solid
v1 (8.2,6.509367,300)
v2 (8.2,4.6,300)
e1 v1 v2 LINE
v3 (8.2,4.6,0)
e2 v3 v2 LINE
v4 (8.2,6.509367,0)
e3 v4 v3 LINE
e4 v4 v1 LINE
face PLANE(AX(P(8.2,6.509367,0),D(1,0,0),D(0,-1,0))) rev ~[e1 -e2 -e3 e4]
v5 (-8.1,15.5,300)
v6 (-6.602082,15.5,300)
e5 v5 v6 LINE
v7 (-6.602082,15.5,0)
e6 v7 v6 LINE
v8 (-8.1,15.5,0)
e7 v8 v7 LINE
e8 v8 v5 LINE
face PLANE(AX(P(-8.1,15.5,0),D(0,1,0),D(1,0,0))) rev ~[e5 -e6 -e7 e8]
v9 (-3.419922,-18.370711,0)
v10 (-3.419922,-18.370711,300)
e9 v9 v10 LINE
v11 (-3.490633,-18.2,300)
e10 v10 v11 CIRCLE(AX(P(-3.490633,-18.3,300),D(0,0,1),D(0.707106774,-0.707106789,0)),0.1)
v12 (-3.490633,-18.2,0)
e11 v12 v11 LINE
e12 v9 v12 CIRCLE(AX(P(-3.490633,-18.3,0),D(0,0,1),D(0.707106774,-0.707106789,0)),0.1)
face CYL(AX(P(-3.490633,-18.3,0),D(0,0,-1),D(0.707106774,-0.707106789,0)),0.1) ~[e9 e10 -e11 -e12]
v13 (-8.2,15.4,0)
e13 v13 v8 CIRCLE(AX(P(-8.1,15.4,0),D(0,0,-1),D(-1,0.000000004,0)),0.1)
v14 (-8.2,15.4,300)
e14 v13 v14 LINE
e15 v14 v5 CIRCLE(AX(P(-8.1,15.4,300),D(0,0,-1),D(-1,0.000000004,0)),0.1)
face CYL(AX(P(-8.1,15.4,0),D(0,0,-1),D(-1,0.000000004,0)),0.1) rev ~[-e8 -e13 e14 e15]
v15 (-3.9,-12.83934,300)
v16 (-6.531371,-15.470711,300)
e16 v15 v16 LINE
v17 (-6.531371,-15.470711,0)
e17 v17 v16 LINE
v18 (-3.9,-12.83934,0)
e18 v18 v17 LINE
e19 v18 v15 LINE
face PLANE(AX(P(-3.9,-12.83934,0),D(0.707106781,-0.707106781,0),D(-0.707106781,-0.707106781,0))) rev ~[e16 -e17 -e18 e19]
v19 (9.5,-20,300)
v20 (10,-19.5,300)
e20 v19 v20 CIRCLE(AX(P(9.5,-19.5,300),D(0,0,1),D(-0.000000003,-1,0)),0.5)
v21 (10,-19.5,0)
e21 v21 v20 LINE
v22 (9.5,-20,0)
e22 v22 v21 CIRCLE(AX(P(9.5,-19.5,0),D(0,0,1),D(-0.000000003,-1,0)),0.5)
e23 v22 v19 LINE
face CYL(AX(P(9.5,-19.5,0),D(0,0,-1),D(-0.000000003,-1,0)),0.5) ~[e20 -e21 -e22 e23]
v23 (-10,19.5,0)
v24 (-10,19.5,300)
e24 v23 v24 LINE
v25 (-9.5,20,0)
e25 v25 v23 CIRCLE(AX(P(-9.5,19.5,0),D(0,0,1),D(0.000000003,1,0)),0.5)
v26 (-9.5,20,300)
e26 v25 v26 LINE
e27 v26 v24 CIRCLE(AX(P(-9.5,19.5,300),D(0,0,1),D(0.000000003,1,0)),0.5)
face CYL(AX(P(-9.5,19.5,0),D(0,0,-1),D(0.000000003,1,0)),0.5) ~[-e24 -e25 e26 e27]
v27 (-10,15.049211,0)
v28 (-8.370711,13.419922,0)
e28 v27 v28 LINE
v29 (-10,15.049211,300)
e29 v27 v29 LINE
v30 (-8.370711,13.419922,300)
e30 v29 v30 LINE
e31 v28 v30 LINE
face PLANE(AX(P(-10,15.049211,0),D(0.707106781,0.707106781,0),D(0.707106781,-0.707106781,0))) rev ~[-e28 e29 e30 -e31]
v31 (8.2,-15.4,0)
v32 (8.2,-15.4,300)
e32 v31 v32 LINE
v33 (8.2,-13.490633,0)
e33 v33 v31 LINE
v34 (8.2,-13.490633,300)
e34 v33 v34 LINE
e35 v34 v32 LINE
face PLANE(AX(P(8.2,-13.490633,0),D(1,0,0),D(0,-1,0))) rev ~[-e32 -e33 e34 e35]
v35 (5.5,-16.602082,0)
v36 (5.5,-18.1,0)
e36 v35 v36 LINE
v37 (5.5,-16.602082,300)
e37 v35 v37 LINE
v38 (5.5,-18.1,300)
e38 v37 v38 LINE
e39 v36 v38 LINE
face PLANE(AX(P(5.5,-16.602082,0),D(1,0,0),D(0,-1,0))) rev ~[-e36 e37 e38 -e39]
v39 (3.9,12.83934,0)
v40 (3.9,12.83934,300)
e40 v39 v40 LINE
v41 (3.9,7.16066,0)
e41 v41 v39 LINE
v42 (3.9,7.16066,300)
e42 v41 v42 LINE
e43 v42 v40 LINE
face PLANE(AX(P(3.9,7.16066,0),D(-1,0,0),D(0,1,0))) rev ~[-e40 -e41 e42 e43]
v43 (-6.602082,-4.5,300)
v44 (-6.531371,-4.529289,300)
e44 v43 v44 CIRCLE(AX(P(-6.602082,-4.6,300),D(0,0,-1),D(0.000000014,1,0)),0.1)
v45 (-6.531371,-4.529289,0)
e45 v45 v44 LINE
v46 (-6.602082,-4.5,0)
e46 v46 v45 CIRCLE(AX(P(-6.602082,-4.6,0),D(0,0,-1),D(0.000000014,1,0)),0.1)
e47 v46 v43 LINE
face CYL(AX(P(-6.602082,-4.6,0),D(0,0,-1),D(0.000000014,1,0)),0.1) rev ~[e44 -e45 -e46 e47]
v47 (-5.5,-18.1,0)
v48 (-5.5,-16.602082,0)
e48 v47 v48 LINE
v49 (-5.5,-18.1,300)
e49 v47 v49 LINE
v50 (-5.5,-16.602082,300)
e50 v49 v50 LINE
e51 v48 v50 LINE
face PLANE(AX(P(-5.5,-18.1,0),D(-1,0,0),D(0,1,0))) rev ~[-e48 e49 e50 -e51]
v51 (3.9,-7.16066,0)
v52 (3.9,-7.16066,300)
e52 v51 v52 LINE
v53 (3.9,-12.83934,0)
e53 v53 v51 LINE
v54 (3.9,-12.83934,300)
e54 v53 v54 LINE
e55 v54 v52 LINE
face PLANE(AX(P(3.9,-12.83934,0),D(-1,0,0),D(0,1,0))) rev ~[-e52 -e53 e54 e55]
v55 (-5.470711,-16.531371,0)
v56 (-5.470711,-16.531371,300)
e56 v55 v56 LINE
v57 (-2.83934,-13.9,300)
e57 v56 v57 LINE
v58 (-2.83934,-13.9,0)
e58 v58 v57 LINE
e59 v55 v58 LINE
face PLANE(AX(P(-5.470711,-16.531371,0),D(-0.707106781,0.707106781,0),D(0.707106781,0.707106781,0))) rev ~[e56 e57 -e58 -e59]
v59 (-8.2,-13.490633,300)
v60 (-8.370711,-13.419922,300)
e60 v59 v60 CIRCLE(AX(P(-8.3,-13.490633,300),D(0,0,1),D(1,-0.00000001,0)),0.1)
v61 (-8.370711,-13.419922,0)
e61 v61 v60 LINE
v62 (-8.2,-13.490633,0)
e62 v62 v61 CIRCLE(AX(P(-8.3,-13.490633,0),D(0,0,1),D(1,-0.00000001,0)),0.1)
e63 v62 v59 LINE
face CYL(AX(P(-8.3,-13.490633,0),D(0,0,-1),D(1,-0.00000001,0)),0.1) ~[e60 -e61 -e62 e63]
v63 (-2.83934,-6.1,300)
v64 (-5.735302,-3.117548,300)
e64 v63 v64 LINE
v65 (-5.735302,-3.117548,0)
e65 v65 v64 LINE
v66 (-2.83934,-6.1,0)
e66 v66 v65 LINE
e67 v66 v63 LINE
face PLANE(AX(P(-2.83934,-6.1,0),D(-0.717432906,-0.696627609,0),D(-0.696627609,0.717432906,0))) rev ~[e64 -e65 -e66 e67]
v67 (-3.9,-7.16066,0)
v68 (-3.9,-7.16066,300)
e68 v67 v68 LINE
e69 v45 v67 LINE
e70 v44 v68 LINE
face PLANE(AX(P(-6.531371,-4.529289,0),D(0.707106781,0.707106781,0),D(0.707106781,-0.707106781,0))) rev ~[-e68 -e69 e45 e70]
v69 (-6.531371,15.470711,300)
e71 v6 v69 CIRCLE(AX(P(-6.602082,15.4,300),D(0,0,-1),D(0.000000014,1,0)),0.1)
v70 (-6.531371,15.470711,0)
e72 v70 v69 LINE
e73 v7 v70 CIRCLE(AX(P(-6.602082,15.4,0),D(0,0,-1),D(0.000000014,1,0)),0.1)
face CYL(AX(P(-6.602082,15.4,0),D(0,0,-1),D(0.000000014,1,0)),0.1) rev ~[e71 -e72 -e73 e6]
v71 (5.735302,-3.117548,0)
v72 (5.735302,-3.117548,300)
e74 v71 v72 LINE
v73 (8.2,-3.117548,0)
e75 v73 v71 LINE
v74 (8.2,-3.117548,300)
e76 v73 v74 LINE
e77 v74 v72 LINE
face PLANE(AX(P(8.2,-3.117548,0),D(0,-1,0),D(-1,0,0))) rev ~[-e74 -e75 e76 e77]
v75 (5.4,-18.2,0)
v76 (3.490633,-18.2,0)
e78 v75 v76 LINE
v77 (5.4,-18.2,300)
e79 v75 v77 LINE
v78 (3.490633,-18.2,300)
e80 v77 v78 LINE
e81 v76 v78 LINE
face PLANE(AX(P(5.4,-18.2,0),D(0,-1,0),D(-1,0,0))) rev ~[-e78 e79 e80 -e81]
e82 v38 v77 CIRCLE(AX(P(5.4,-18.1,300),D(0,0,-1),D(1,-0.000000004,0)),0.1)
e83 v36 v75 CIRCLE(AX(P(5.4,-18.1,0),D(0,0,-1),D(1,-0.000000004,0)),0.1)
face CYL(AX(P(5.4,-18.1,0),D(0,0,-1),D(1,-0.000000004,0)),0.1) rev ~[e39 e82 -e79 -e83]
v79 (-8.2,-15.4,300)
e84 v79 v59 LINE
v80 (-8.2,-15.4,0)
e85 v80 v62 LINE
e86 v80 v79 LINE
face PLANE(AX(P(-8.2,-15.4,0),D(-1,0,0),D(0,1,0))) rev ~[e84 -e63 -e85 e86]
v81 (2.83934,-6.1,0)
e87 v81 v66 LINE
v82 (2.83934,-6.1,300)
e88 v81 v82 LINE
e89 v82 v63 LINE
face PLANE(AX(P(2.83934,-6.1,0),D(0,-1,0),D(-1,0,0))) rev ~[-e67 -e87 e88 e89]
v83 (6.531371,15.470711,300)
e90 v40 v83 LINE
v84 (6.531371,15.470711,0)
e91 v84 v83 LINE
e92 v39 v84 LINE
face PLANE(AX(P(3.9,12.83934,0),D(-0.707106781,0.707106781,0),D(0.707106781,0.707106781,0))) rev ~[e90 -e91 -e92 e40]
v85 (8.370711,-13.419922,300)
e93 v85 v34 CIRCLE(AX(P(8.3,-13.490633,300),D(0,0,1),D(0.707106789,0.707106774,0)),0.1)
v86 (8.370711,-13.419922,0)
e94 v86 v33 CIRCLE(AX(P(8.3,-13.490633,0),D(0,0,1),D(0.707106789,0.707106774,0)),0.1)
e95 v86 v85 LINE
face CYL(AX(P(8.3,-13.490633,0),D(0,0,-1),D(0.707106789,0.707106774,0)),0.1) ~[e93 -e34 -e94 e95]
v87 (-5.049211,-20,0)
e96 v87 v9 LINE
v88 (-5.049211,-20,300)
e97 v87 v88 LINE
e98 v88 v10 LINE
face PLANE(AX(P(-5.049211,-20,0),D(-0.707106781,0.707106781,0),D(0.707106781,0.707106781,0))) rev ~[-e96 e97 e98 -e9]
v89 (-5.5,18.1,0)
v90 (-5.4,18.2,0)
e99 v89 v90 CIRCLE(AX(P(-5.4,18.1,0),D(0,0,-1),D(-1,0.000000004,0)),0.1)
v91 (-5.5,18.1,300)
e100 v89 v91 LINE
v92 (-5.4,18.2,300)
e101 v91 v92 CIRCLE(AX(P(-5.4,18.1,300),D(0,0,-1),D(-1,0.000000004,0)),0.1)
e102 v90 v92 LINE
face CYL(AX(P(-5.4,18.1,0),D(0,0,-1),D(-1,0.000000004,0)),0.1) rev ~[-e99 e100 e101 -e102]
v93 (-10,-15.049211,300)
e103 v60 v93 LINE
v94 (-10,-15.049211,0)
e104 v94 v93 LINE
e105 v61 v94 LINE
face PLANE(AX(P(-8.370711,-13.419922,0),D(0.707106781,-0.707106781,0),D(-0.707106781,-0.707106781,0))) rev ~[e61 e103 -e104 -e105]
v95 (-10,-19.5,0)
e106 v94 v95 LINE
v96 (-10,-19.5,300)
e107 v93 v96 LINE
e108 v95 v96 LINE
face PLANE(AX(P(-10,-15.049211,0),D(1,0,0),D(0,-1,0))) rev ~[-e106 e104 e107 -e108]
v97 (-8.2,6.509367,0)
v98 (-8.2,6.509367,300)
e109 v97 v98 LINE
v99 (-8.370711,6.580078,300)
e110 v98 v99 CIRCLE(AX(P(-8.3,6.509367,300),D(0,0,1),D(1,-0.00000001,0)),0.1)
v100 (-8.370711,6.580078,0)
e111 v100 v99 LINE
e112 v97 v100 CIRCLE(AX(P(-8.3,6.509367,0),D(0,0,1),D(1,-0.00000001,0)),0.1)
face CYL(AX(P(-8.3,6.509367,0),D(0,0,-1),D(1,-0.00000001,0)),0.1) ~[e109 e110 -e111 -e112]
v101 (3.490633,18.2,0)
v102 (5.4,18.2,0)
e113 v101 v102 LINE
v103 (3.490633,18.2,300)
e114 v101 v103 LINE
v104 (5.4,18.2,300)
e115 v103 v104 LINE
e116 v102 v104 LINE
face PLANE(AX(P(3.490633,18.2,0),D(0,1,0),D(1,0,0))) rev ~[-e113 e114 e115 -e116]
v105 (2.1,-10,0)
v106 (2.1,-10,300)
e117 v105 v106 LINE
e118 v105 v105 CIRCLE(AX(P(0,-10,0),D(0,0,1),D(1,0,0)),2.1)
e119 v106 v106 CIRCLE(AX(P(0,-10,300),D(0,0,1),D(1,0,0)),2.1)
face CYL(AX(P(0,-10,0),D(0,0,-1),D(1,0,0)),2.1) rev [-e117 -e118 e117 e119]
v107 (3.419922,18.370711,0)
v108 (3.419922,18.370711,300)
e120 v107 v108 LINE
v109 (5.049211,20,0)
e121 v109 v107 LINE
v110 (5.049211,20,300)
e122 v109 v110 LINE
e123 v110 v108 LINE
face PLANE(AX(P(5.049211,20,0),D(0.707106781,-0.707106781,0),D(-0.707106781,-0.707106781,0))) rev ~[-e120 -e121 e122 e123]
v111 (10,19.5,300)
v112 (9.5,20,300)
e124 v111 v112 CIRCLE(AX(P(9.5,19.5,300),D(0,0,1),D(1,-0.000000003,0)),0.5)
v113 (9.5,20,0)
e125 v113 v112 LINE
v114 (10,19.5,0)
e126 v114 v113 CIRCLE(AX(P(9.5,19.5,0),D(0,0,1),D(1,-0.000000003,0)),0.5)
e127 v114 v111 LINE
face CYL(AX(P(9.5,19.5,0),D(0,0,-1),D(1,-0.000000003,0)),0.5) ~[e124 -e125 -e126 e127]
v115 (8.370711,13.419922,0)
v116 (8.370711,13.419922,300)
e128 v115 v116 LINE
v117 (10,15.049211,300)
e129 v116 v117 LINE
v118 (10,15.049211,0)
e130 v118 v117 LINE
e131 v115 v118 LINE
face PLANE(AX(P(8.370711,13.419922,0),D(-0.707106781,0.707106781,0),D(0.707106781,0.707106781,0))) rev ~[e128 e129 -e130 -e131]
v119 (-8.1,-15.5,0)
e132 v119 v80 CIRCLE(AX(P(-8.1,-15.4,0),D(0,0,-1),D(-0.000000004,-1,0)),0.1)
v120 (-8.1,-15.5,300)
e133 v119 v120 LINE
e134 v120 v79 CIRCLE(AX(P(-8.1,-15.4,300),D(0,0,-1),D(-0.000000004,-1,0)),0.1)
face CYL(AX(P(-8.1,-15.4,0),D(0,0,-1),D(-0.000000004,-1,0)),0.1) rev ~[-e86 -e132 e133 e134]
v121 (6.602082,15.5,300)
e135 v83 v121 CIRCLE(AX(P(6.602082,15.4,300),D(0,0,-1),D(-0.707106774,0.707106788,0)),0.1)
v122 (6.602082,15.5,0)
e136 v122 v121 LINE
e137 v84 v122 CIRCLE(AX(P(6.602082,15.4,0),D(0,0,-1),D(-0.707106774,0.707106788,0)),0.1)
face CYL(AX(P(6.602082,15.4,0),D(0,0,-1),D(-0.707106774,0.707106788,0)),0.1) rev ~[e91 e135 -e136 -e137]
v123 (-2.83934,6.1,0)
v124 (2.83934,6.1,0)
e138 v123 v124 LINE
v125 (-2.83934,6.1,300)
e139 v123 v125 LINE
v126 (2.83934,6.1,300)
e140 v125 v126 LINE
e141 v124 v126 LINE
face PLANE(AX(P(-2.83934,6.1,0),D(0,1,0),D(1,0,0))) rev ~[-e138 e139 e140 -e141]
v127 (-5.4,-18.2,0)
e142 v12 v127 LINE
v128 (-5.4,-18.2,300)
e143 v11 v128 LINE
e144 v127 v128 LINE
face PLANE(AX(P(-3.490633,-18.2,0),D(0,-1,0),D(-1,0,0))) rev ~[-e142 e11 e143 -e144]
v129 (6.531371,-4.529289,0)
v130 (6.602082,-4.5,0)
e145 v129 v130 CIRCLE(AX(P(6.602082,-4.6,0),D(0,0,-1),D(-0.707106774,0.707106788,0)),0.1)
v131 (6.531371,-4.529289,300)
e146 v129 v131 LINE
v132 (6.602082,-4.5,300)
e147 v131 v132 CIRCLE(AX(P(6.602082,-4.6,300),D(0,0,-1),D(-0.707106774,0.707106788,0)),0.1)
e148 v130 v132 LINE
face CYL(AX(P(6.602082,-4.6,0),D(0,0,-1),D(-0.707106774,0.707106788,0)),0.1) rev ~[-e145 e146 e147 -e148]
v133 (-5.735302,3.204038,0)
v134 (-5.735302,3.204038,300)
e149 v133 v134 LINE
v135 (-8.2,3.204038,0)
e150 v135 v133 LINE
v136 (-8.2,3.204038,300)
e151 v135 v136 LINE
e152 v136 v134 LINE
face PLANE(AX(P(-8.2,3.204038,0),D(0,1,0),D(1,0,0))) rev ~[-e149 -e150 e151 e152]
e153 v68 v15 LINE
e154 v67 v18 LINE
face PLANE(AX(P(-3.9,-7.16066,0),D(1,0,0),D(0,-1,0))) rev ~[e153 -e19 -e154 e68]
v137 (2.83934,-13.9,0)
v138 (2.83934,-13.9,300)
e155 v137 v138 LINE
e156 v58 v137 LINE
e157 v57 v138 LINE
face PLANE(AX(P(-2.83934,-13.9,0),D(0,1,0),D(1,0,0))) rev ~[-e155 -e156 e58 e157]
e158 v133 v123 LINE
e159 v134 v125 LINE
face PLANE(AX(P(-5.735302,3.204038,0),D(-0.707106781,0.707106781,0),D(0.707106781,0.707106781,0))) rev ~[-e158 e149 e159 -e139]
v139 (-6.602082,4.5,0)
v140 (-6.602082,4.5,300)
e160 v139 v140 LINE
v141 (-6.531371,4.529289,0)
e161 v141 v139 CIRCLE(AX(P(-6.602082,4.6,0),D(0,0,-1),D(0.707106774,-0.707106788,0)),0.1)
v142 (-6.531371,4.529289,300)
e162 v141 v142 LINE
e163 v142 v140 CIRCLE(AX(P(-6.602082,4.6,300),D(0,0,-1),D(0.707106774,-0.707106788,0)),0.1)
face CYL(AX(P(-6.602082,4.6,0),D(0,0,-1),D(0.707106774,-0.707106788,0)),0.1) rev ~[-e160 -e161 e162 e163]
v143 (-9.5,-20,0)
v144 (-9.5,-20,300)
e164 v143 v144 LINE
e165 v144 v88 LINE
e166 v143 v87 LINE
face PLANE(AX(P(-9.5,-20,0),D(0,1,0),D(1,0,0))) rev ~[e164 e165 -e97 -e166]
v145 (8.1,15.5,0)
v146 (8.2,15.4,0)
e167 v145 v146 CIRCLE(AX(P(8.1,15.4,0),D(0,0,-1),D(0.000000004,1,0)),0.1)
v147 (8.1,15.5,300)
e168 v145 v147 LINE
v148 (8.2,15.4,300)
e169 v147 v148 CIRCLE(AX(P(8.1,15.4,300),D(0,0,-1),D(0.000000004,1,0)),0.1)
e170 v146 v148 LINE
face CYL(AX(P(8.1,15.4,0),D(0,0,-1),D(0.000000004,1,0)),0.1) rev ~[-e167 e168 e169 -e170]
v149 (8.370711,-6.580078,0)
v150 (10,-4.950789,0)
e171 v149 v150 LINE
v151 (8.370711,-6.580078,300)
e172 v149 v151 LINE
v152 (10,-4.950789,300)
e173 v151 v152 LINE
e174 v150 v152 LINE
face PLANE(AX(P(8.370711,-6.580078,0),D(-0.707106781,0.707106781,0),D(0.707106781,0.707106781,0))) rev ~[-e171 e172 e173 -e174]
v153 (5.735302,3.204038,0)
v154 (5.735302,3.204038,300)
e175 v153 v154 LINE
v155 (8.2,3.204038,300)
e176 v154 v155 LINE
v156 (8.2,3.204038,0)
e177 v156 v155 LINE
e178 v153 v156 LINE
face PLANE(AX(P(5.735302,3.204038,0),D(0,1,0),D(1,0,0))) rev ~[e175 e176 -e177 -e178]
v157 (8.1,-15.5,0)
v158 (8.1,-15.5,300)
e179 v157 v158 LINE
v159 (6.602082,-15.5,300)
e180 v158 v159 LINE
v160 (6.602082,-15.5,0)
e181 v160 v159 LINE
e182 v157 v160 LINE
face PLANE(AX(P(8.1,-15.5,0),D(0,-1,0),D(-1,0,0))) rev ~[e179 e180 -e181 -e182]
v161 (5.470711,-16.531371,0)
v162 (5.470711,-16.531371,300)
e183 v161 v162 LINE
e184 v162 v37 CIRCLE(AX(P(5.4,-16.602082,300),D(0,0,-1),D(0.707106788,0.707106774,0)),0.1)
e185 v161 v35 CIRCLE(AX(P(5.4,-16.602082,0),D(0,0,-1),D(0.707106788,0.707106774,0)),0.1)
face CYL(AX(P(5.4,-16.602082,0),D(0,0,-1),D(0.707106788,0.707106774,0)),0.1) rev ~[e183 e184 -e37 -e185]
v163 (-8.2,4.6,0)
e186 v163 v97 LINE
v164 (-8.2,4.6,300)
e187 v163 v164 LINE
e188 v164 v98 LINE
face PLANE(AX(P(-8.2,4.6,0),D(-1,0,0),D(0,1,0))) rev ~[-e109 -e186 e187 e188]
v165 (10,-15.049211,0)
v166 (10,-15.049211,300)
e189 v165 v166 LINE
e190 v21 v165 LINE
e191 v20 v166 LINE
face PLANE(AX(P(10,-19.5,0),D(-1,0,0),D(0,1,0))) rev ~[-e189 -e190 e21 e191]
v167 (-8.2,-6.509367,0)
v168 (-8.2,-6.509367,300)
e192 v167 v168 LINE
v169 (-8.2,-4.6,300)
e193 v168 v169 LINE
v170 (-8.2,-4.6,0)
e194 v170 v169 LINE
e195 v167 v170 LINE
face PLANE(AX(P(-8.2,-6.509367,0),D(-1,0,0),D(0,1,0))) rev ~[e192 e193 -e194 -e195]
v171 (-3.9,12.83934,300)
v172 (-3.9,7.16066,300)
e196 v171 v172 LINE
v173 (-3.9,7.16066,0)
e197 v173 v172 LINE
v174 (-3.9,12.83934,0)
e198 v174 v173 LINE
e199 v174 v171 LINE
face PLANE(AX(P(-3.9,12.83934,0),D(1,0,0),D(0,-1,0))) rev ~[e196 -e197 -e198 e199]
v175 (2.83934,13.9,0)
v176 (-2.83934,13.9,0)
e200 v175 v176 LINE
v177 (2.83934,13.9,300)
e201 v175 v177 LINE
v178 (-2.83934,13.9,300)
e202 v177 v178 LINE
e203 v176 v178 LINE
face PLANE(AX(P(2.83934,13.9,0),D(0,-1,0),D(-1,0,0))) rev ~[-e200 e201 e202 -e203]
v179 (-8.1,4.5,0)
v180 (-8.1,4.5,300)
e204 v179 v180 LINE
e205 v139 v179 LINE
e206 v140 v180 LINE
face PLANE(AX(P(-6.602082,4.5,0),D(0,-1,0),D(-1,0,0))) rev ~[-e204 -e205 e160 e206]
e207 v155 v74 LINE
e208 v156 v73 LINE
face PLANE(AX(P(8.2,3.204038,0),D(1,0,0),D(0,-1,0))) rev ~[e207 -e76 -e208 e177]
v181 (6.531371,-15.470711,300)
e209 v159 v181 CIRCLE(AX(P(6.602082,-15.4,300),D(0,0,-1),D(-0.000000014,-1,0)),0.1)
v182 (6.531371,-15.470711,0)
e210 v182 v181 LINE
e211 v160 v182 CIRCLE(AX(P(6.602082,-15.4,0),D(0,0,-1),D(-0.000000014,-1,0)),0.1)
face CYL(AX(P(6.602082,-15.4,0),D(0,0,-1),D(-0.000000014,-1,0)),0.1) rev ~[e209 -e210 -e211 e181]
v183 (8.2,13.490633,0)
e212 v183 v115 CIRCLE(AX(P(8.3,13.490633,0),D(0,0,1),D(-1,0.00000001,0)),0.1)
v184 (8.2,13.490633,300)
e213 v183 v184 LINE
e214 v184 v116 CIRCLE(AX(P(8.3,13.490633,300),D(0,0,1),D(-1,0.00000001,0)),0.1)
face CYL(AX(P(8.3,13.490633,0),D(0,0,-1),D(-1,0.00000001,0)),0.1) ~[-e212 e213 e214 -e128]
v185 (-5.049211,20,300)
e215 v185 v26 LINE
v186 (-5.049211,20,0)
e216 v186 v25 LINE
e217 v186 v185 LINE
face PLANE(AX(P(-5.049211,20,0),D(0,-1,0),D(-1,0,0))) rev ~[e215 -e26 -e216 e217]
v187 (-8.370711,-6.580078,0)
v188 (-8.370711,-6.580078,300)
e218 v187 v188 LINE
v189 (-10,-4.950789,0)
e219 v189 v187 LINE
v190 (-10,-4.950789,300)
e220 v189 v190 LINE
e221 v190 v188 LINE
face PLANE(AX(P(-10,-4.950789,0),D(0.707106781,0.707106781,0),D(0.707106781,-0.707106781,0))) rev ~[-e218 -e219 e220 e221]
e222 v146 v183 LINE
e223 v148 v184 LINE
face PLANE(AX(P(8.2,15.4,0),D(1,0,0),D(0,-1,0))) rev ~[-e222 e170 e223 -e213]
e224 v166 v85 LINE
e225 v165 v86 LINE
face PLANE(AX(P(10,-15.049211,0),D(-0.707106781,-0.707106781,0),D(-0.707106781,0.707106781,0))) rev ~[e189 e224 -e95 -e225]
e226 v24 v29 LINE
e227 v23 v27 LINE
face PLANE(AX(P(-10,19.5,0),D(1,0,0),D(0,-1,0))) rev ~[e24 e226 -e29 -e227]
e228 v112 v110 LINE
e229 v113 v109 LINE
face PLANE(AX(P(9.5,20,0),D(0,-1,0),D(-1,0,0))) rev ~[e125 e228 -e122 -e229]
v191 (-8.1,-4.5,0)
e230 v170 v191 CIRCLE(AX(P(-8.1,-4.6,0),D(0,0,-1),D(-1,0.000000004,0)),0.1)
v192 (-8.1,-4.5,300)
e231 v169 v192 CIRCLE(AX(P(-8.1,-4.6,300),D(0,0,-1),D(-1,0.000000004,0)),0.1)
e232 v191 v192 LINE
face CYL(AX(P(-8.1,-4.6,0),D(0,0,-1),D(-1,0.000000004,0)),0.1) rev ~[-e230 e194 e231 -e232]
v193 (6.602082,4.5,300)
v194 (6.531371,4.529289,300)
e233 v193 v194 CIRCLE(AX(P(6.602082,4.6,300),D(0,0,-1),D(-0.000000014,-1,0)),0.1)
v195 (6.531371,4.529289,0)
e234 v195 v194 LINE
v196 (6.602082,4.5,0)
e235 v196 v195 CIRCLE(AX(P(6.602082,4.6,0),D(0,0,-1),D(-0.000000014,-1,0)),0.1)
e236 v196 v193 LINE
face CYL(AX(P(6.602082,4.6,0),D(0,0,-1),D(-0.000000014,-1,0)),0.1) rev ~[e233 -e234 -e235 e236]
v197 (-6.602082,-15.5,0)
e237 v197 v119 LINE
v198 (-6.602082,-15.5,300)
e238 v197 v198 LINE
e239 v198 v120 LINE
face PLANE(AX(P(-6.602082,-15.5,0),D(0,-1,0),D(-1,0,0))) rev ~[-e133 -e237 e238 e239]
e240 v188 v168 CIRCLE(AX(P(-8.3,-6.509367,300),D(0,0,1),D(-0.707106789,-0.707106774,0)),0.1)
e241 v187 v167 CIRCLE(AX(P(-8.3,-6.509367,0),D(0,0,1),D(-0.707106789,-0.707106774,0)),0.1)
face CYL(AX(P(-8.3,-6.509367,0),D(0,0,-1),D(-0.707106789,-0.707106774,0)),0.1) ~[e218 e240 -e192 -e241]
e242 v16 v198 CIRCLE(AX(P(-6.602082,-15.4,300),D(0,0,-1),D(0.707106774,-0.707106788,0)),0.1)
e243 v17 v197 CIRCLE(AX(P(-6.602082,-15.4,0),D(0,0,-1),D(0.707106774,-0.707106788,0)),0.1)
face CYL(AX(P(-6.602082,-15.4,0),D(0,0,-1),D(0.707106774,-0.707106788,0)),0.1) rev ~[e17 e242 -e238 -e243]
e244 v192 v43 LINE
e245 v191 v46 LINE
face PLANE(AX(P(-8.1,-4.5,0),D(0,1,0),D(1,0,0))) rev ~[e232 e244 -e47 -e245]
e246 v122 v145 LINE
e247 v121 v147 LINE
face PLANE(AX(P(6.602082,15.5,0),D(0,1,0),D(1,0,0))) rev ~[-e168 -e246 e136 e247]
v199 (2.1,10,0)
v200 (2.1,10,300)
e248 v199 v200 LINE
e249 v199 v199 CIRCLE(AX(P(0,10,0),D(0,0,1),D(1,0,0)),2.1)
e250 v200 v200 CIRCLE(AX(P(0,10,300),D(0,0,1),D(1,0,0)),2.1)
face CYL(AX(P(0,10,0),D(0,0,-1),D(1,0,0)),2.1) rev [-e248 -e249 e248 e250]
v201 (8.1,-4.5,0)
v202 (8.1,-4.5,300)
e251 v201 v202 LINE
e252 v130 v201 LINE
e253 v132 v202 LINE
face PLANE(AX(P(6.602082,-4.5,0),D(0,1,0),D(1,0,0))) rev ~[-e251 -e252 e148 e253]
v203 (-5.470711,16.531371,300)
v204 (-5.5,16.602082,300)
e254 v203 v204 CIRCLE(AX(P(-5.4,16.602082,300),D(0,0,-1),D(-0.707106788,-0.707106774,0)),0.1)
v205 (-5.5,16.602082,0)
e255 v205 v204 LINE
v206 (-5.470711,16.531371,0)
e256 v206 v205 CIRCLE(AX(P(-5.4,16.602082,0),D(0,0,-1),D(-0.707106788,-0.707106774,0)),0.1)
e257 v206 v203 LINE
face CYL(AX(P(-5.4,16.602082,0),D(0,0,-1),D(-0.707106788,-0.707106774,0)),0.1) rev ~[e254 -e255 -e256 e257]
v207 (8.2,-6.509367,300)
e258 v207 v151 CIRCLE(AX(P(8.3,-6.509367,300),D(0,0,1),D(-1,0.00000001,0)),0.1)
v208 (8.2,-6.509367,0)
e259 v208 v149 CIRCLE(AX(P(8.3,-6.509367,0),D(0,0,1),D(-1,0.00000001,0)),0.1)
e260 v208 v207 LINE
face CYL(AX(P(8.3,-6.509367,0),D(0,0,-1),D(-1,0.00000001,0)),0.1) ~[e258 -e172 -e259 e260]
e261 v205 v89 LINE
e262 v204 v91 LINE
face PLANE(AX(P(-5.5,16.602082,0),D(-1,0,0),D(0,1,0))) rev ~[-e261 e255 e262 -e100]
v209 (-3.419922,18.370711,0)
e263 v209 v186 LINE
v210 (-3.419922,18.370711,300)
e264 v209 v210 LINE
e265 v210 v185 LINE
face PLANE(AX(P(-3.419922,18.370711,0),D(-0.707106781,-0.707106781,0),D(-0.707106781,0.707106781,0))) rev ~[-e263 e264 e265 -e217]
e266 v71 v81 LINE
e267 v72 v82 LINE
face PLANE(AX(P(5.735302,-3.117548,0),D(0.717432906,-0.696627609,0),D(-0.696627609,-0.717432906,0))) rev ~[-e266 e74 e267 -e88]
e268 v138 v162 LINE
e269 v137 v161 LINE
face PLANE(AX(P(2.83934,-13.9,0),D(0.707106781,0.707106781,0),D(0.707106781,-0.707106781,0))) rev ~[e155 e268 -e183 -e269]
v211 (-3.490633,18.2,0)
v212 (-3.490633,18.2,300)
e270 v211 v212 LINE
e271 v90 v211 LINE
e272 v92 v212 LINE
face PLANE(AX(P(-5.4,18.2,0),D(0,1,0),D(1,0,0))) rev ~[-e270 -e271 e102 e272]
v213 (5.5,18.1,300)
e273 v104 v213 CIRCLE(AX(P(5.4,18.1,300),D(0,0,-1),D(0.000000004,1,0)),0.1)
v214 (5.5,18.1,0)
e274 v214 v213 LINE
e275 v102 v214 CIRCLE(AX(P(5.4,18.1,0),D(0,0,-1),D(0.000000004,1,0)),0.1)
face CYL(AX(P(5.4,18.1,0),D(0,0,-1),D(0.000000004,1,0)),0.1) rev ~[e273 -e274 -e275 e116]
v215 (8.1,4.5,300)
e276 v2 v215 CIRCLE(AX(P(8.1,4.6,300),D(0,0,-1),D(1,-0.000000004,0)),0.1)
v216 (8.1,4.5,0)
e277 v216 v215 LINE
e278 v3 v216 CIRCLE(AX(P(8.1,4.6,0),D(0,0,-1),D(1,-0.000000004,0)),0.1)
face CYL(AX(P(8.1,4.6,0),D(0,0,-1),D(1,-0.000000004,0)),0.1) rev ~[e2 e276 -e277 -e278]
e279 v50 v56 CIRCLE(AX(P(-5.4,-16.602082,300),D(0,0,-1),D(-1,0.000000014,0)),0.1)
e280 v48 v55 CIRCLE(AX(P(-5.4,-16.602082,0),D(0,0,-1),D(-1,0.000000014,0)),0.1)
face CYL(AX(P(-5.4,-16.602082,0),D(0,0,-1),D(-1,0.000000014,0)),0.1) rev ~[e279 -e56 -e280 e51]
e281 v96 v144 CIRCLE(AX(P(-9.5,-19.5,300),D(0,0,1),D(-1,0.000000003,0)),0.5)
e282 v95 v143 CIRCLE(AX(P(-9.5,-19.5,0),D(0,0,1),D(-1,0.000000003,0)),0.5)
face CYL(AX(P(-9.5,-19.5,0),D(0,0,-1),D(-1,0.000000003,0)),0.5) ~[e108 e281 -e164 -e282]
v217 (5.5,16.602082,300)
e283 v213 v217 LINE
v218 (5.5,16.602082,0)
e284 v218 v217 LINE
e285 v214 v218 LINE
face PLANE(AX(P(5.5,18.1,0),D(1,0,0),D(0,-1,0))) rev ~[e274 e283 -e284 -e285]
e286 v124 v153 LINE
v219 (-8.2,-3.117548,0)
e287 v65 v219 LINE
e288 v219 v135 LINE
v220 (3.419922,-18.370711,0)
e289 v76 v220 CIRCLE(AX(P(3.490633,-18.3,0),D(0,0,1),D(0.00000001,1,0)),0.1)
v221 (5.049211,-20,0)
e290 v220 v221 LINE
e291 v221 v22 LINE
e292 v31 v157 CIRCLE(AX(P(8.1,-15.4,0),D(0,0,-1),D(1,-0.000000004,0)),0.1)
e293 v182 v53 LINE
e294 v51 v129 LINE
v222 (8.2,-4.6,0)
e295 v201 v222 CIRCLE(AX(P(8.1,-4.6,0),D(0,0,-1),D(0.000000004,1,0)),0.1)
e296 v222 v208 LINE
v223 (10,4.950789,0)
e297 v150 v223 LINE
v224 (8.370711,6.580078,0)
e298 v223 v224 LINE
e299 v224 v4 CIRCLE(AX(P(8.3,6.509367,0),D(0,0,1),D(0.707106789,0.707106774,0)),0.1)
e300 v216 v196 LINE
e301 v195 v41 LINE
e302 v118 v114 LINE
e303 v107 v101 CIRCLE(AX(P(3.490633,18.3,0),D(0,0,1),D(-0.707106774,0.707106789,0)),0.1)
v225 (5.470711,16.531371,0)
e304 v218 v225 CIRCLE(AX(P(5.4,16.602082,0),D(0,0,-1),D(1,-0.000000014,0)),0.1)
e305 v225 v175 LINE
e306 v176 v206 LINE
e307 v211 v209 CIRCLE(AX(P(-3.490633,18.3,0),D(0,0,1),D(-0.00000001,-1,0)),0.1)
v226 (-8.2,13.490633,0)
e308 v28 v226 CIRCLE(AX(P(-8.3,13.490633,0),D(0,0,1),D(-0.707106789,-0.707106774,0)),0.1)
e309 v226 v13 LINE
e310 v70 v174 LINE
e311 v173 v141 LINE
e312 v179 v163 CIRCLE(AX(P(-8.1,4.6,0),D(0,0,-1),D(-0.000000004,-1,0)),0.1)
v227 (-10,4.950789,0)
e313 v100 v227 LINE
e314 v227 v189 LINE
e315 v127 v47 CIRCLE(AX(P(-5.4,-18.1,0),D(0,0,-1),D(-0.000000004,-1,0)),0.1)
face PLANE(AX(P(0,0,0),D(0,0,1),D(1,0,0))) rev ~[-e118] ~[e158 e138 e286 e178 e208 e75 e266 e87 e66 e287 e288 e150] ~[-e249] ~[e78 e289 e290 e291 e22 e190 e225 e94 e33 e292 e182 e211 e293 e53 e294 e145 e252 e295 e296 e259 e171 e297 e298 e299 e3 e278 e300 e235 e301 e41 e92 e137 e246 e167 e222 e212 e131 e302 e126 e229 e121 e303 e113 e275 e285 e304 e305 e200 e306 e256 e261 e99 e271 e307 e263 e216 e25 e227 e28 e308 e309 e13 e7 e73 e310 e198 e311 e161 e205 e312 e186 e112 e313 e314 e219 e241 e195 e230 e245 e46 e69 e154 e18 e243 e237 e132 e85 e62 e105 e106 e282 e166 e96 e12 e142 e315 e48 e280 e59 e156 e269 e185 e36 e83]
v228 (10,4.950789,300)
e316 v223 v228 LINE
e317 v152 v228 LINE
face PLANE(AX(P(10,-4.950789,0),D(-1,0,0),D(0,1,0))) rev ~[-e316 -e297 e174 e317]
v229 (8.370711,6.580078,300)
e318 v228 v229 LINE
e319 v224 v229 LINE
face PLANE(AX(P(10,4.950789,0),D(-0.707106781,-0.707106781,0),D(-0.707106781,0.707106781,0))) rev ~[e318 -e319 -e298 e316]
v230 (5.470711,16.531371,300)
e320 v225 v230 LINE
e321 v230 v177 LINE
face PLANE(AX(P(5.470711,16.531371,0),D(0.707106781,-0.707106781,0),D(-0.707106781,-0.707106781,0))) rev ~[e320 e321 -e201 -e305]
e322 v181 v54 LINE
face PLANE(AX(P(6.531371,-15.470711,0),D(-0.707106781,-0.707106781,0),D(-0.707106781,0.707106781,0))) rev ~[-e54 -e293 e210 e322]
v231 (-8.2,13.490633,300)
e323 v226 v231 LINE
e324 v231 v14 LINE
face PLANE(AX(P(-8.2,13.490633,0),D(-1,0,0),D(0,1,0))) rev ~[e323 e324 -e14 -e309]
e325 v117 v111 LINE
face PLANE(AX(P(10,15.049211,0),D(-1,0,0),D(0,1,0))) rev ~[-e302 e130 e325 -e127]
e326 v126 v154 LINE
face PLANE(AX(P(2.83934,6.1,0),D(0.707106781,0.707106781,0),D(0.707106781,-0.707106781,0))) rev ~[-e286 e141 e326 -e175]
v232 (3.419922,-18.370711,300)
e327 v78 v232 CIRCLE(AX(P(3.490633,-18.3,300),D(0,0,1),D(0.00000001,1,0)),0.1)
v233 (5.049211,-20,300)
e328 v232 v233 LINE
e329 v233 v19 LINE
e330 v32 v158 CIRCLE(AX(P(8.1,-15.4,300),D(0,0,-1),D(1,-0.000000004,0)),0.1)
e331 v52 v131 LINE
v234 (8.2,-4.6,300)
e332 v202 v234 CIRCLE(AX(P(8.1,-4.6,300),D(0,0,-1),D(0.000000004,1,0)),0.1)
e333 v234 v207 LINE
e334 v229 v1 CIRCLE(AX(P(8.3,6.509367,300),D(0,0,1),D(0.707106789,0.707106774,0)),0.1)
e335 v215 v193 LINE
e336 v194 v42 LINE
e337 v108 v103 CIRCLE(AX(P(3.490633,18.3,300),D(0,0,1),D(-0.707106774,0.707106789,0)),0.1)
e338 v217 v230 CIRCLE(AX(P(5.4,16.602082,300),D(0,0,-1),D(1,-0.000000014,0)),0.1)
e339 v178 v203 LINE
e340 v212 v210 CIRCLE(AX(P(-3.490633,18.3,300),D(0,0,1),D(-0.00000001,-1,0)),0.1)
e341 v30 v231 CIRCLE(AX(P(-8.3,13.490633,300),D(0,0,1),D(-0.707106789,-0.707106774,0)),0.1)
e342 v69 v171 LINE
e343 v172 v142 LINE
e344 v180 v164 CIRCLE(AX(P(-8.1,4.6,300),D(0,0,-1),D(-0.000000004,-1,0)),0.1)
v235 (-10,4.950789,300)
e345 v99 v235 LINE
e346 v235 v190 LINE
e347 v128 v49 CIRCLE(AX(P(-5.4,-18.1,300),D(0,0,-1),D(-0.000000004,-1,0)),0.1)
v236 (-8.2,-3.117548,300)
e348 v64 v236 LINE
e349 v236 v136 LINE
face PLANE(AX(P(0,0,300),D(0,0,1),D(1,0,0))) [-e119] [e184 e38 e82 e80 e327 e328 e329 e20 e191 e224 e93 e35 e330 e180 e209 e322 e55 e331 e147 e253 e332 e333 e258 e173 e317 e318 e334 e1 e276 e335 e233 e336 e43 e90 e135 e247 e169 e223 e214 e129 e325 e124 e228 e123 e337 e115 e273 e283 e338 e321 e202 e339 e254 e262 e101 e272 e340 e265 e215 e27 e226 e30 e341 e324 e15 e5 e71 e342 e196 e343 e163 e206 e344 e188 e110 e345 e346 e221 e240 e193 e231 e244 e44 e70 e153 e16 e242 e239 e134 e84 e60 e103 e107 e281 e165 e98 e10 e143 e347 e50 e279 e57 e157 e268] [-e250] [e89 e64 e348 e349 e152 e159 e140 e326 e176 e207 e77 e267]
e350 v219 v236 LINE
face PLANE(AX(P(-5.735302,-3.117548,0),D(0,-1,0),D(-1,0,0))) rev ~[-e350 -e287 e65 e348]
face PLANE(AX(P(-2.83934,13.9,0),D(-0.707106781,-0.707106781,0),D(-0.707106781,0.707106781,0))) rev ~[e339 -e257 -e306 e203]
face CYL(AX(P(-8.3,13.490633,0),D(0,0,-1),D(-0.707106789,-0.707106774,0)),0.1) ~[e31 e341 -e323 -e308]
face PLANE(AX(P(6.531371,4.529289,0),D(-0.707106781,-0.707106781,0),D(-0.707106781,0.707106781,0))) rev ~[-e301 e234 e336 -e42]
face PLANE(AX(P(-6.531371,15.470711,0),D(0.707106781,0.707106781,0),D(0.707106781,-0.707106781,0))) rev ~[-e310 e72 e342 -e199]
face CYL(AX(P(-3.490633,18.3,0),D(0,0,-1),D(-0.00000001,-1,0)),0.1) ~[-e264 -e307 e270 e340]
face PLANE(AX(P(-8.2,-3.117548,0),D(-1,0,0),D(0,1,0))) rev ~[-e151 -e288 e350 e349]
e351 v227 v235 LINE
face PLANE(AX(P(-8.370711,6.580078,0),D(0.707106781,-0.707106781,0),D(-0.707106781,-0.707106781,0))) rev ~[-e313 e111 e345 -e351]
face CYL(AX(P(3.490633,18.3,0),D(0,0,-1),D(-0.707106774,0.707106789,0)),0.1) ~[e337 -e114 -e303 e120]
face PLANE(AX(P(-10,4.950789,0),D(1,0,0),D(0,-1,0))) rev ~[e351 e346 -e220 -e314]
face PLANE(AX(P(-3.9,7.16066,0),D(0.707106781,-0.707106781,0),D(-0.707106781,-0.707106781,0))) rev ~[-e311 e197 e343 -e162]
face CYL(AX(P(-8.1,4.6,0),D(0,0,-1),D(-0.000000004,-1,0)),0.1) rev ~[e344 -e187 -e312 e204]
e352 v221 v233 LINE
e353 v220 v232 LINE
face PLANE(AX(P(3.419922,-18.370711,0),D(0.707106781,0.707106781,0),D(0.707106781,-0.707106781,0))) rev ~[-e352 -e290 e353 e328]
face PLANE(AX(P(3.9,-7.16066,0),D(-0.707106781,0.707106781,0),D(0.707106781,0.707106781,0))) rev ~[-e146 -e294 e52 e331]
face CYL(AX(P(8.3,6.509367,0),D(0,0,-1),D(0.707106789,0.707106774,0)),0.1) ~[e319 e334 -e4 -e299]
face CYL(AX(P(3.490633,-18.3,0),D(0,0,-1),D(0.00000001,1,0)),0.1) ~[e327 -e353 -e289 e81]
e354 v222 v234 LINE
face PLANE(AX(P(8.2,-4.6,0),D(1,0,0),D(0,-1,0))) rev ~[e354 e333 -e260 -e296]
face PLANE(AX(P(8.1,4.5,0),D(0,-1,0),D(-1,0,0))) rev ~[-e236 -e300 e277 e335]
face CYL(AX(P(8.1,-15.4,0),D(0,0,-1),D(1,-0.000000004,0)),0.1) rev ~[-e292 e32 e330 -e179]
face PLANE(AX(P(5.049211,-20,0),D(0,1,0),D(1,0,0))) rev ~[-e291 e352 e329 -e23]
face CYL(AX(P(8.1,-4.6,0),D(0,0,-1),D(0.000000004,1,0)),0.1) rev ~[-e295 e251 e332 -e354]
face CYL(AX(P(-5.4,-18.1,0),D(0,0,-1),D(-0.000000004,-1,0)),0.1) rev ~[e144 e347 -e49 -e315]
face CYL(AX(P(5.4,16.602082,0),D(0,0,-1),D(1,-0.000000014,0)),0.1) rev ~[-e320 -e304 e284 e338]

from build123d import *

# Parameters (mm, degrees)
SKETCH1_R           = 2.1
BOSS_EXTRUDE1_DEPTH = 300


with BuildPart() as part:
    # Sketch1 → Boss-Extrude1 (new body)
    with BuildSketch(Plane.XY):
        with BuildLine():
            ThreePointArc((10, 19.5), (9.853553391, 19.853553391), (9.5, 20))
            Line((9.5, 20), (5.049211356, 20))
            Line((5.049211356, 20), (3.419922035, 18.370710678))
            ThreePointArc((3.419922035, 18.370710678), (3.398244759, 18.261731657), (3.490632713, 18.2))
            Line((3.490632713, 18.2), (5.4, 18.2))
            ThreePointArc((5.4, 18.2), (5.470710678, 18.170710678), (5.5, 18.1))
            Line((5.5, 18.1), (5.5, 16.602081528))
            ThreePointArc((5.5, 16.602081528), (5.492387953, 16.563813185), (5.470710678, 16.53137085))
            Line((5.470710678, 16.53137085), (2.839339828, 13.9))
            Line((2.839339828, 13.9), (-2.839339828, 13.9))
            Line((-2.839339828, 13.9), (-5.470710678, 16.53137085))
            ThreePointArc((-5.470710678, 16.53137085), (-5.492387953, 16.563813185), (-5.5, 16.602081528))
            Line((-5.5, 16.602081528), (-5.5, 18.1))
            ThreePointArc((-5.5, 18.1), (-5.470710678, 18.170710678), (-5.4, 18.2))
            Line((-5.4, 18.2), (-3.490632713, 18.2))
            ThreePointArc((-3.490632713, 18.2), (-3.398244759, 18.261731657), (-3.419922035, 18.370710678))
            Line((-3.419922035, 18.370710678), (-5.049211356, 20))
            Line((-5.049211356, 20), (-9.5, 20))
            ThreePointArc((-9.5, 20), (-9.853553391, 19.853553391), (-10, 19.5))
            Line((-10, 19.5), (-10, 15.049211356))
            Line((-10, 15.049211356), (-8.370710678, 13.419922035))
            ThreePointArc((-8.370710678, 13.419922035), (-8.261731657, 13.398244759), (-8.2, 13.490632713))
            Line((-8.2, 13.490632713), (-8.2, 15.4))
            ThreePointArc((-8.2, 15.4), (-8.170710678, 15.470710678), (-8.1, 15.5))
            Line((-8.1, 15.5), (-6.602081528, 15.5))
            ThreePointArc((-6.602081528, 15.5), (-6.563813185, 15.492387953), (-6.53137085, 15.470710678))
            Line((-6.53137085, 15.470710678), (-3.9, 12.839339828))
            Line((-3.9, 12.839339828), (-3.9, 7.160660172))
            Line((-3.9, 7.160660172), (-6.53137085, 4.529289322))
            ThreePointArc((-6.53137085, 4.529289322), (-6.563813185, 4.507612047), (-6.602081528, 4.5))
            Line((-6.602081528, 4.5), (-8.1, 4.5))
            ThreePointArc((-8.1, 4.5), (-8.170710678, 4.529289322), (-8.2, 4.6))
            Line((-8.2, 4.6), (-8.2, 6.509367287))
            ThreePointArc((-8.2, 6.509367287), (-8.261731657, 6.601755241), (-8.370710678, 6.580077965))
            Line((-8.370710678, 6.580077965), (-10, 4.950788644))
            Line((-10, 4.950788644), (-10, -4.950788644))
            Line((-10, -4.950788644), (-8.370710678, -6.580077965))
            ThreePointArc((-8.370710678, -6.580077965), (-8.261731657, -6.601755241), (-8.2, -6.509367287))
            Line((-8.2, -6.509367287), (-8.2, -4.6))
            ThreePointArc((-8.2, -4.6), (-8.170710678, -4.529289322), (-8.1, -4.5))
            Line((-8.1, -4.5), (-6.602081528, -4.5))
            ThreePointArc((-6.602081528, -4.5), (-6.563813185, -4.507612047), (-6.53137085, -4.529289322))
            Line((-6.53137085, -4.529289322), (-3.9, -7.160660172))
            Line((-3.9, -7.160660172), (-3.9, -10))
            Line((-3.9, -10), (-3.9, -12.839339828))
            Line((-3.9, -12.839339828), (-6.53137085, -15.470710678))
            ThreePointArc((-6.53137085, -15.470710678), (-6.563813185, -15.492387953), (-6.602081528, -15.5))
            Line((-6.602081528, -15.5), (-8.1, -15.5))
            ThreePointArc((-8.1, -15.5), (-8.170710678, -15.470710678), (-8.2, -15.4))
            Line((-8.2, -15.4), (-8.2, -13.490632713))
            ThreePointArc((-8.2, -13.490632713), (-8.261731657, -13.398244759), (-8.370710678, -13.419922035))
            Line((-8.370710678, -13.419922035), (-10, -15.049211356))
            Line((-10, -15.049211356), (-10, -19.5))
            ThreePointArc((-10, -19.5), (-9.853553391, -19.853553391), (-9.5, -20))
            Line((-9.5, -20), (-5.049211356, -20))
            Line((-5.049211356, -20), (-3.419922035, -18.370710678))
            ThreePointArc((-3.419922035, -18.370710678), (-3.398244759, -18.261731657), (-3.490632713, -18.2))
            Line((-3.490632713, -18.2), (-5.4, -18.2))
            ThreePointArc((-5.4, -18.2), (-5.470710678, -18.170710678), (-5.5, -18.1))
            Line((-5.5, -18.1), (-5.5, -16.602081528))
            ThreePointArc((-5.5, -16.602081528), (-5.492387953, -16.563813185), (-5.470710678, -16.53137085))
            Line((-5.470710678, -16.53137085), (-2.839339828, -13.9))
            Line((-2.839339828, -13.9), (2.839339828, -13.9))
            Line((2.839339828, -13.9), (5.470710678, -16.53137085))
            ThreePointArc((5.470710678, -16.53137085), (5.492387953, -16.563813185), (5.5, -16.602081528))
            Line((5.5, -16.602081528), (5.5, -18.1))
            ThreePointArc((5.5, -18.1), (5.470710678, -18.170710678), (5.4, -18.2))
            Line((5.4, -18.2), (3.490632713, -18.2))
            ThreePointArc((3.490632713, -18.2), (3.398244759, -18.261731657), (3.419922035, -18.370710678))
            Line((3.419922035, -18.370710678), (5.049211356, -20))
            Line((5.049211356, -20), (9.5, -20))
            ThreePointArc((9.5, -20), (9.853553391, -19.853553391), (10, -19.5))
            Line((10, -19.5), (10, -15.049211356))
            Line((10, -15.049211356), (8.370710678, -13.419922035))
            ThreePointArc((8.370710678, -13.419922035), (8.261731657, -13.398244759), (8.2, -13.490632713))
            Line((8.2, -13.490632713), (8.2, -15.4))
            ThreePointArc((8.2, -15.4), (8.170710678, -15.470710678), (8.1, -15.5))
            Line((8.1, -15.5), (6.602081528, -15.5))
            ThreePointArc((6.602081528, -15.5), (6.563813185, -15.492387953), (6.53137085, -15.470710678))
            Line((6.53137085, -15.470710678), (3.9, -12.839339828))
            Line((3.9, -12.839339828), (3.9, -10))
            Line((3.9, -10), (3.9, -7.160660172))
            Line((3.9, -7.160660172), (6.53137085, -4.529289322))
            ThreePointArc((6.53137085, -4.529289322), (6.563813185, -4.507612047), (6.602081528, -4.5))
            Line((6.602081528, -4.5), (8.1, -4.5))
            ThreePointArc((8.1, -4.5), (8.170710678, -4.529289322), (8.2, -4.6))
            Line((8.2, -4.6), (8.2, -6.509367287))
            ThreePointArc((8.2, -6.509367287), (8.261731657, -6.601755241), (8.370710678, -6.580077965))
            Line((8.370710678, -6.580077965), (10, -4.950788644))
            Line((10, -4.950788644), (10, 4.950788644))
            Line((10, 4.950788644), (8.370710678, 6.580077965))
            ThreePointArc((8.370710678, 6.580077965), (8.261731657, 6.601755241), (8.2, 6.509367287))
            Line((8.2, 6.509367287), (8.2, 4.6))
            ThreePointArc((8.2, 4.6), (8.170710678, 4.529289322), (8.1, 4.5))
            Line((8.1, 4.5), (6.602081528, 4.5))
            ThreePointArc((6.602081528, 4.5), (6.563813185, 4.507612047), (6.53137085, 4.529289322))
            Line((6.53137085, 4.529289322), (3.9, 7.160660172))
            Line((3.9, 7.160660172), (3.9, 12.839339828))
            Line((3.9, 12.839339828), (6.53137085, 15.470710678))
            ThreePointArc((6.53137085, 15.470710678), (6.563813185, 15.492387953), (6.602081528, 15.5))
            Line((6.602081528, 15.5), (8.1, 15.5))
            ThreePointArc((8.1, 15.5), (8.170710678, 15.470710678), (8.2, 15.4))
            Line((8.2, 15.4), (8.2, 13.490632713))
            ThreePointArc((8.2, 13.490632713), (8.261731657, 13.398244759), (8.370710678, 13.419922035))
            Line((8.370710678, 13.419922035), (10, 15.049211356))
            Line((10, 15.049211356), (10, 19.5))
        make_face()
        with Locations((0, -10)):
            Circle(SKETCH1_R, mode=Mode.SUBTRACT)
        Polygon((-5.735302207, 3.204037621), (-2.839339828, 6.1), (2.839339828, 6.1), (5.735302207, 3.204037621), (8.2, 3.204037621), (8.2, -3.117547571), (5.735302207, -3.117547571), (2.839339828, -6.1), (-2.839339828, -6.1), (-5.735302207, -3.117547571), (-8.2, -3.117547571), (-8.2, 3.204037621), align=None, mode=Mode.SUBTRACT)
        with Locations((0, 10)):
            Circle(SKETCH1_R, mode=Mode.SUBTRACT)
    extrude(amount=BOSS_EXTRUDE1_DEPTH)


solid = part.part
